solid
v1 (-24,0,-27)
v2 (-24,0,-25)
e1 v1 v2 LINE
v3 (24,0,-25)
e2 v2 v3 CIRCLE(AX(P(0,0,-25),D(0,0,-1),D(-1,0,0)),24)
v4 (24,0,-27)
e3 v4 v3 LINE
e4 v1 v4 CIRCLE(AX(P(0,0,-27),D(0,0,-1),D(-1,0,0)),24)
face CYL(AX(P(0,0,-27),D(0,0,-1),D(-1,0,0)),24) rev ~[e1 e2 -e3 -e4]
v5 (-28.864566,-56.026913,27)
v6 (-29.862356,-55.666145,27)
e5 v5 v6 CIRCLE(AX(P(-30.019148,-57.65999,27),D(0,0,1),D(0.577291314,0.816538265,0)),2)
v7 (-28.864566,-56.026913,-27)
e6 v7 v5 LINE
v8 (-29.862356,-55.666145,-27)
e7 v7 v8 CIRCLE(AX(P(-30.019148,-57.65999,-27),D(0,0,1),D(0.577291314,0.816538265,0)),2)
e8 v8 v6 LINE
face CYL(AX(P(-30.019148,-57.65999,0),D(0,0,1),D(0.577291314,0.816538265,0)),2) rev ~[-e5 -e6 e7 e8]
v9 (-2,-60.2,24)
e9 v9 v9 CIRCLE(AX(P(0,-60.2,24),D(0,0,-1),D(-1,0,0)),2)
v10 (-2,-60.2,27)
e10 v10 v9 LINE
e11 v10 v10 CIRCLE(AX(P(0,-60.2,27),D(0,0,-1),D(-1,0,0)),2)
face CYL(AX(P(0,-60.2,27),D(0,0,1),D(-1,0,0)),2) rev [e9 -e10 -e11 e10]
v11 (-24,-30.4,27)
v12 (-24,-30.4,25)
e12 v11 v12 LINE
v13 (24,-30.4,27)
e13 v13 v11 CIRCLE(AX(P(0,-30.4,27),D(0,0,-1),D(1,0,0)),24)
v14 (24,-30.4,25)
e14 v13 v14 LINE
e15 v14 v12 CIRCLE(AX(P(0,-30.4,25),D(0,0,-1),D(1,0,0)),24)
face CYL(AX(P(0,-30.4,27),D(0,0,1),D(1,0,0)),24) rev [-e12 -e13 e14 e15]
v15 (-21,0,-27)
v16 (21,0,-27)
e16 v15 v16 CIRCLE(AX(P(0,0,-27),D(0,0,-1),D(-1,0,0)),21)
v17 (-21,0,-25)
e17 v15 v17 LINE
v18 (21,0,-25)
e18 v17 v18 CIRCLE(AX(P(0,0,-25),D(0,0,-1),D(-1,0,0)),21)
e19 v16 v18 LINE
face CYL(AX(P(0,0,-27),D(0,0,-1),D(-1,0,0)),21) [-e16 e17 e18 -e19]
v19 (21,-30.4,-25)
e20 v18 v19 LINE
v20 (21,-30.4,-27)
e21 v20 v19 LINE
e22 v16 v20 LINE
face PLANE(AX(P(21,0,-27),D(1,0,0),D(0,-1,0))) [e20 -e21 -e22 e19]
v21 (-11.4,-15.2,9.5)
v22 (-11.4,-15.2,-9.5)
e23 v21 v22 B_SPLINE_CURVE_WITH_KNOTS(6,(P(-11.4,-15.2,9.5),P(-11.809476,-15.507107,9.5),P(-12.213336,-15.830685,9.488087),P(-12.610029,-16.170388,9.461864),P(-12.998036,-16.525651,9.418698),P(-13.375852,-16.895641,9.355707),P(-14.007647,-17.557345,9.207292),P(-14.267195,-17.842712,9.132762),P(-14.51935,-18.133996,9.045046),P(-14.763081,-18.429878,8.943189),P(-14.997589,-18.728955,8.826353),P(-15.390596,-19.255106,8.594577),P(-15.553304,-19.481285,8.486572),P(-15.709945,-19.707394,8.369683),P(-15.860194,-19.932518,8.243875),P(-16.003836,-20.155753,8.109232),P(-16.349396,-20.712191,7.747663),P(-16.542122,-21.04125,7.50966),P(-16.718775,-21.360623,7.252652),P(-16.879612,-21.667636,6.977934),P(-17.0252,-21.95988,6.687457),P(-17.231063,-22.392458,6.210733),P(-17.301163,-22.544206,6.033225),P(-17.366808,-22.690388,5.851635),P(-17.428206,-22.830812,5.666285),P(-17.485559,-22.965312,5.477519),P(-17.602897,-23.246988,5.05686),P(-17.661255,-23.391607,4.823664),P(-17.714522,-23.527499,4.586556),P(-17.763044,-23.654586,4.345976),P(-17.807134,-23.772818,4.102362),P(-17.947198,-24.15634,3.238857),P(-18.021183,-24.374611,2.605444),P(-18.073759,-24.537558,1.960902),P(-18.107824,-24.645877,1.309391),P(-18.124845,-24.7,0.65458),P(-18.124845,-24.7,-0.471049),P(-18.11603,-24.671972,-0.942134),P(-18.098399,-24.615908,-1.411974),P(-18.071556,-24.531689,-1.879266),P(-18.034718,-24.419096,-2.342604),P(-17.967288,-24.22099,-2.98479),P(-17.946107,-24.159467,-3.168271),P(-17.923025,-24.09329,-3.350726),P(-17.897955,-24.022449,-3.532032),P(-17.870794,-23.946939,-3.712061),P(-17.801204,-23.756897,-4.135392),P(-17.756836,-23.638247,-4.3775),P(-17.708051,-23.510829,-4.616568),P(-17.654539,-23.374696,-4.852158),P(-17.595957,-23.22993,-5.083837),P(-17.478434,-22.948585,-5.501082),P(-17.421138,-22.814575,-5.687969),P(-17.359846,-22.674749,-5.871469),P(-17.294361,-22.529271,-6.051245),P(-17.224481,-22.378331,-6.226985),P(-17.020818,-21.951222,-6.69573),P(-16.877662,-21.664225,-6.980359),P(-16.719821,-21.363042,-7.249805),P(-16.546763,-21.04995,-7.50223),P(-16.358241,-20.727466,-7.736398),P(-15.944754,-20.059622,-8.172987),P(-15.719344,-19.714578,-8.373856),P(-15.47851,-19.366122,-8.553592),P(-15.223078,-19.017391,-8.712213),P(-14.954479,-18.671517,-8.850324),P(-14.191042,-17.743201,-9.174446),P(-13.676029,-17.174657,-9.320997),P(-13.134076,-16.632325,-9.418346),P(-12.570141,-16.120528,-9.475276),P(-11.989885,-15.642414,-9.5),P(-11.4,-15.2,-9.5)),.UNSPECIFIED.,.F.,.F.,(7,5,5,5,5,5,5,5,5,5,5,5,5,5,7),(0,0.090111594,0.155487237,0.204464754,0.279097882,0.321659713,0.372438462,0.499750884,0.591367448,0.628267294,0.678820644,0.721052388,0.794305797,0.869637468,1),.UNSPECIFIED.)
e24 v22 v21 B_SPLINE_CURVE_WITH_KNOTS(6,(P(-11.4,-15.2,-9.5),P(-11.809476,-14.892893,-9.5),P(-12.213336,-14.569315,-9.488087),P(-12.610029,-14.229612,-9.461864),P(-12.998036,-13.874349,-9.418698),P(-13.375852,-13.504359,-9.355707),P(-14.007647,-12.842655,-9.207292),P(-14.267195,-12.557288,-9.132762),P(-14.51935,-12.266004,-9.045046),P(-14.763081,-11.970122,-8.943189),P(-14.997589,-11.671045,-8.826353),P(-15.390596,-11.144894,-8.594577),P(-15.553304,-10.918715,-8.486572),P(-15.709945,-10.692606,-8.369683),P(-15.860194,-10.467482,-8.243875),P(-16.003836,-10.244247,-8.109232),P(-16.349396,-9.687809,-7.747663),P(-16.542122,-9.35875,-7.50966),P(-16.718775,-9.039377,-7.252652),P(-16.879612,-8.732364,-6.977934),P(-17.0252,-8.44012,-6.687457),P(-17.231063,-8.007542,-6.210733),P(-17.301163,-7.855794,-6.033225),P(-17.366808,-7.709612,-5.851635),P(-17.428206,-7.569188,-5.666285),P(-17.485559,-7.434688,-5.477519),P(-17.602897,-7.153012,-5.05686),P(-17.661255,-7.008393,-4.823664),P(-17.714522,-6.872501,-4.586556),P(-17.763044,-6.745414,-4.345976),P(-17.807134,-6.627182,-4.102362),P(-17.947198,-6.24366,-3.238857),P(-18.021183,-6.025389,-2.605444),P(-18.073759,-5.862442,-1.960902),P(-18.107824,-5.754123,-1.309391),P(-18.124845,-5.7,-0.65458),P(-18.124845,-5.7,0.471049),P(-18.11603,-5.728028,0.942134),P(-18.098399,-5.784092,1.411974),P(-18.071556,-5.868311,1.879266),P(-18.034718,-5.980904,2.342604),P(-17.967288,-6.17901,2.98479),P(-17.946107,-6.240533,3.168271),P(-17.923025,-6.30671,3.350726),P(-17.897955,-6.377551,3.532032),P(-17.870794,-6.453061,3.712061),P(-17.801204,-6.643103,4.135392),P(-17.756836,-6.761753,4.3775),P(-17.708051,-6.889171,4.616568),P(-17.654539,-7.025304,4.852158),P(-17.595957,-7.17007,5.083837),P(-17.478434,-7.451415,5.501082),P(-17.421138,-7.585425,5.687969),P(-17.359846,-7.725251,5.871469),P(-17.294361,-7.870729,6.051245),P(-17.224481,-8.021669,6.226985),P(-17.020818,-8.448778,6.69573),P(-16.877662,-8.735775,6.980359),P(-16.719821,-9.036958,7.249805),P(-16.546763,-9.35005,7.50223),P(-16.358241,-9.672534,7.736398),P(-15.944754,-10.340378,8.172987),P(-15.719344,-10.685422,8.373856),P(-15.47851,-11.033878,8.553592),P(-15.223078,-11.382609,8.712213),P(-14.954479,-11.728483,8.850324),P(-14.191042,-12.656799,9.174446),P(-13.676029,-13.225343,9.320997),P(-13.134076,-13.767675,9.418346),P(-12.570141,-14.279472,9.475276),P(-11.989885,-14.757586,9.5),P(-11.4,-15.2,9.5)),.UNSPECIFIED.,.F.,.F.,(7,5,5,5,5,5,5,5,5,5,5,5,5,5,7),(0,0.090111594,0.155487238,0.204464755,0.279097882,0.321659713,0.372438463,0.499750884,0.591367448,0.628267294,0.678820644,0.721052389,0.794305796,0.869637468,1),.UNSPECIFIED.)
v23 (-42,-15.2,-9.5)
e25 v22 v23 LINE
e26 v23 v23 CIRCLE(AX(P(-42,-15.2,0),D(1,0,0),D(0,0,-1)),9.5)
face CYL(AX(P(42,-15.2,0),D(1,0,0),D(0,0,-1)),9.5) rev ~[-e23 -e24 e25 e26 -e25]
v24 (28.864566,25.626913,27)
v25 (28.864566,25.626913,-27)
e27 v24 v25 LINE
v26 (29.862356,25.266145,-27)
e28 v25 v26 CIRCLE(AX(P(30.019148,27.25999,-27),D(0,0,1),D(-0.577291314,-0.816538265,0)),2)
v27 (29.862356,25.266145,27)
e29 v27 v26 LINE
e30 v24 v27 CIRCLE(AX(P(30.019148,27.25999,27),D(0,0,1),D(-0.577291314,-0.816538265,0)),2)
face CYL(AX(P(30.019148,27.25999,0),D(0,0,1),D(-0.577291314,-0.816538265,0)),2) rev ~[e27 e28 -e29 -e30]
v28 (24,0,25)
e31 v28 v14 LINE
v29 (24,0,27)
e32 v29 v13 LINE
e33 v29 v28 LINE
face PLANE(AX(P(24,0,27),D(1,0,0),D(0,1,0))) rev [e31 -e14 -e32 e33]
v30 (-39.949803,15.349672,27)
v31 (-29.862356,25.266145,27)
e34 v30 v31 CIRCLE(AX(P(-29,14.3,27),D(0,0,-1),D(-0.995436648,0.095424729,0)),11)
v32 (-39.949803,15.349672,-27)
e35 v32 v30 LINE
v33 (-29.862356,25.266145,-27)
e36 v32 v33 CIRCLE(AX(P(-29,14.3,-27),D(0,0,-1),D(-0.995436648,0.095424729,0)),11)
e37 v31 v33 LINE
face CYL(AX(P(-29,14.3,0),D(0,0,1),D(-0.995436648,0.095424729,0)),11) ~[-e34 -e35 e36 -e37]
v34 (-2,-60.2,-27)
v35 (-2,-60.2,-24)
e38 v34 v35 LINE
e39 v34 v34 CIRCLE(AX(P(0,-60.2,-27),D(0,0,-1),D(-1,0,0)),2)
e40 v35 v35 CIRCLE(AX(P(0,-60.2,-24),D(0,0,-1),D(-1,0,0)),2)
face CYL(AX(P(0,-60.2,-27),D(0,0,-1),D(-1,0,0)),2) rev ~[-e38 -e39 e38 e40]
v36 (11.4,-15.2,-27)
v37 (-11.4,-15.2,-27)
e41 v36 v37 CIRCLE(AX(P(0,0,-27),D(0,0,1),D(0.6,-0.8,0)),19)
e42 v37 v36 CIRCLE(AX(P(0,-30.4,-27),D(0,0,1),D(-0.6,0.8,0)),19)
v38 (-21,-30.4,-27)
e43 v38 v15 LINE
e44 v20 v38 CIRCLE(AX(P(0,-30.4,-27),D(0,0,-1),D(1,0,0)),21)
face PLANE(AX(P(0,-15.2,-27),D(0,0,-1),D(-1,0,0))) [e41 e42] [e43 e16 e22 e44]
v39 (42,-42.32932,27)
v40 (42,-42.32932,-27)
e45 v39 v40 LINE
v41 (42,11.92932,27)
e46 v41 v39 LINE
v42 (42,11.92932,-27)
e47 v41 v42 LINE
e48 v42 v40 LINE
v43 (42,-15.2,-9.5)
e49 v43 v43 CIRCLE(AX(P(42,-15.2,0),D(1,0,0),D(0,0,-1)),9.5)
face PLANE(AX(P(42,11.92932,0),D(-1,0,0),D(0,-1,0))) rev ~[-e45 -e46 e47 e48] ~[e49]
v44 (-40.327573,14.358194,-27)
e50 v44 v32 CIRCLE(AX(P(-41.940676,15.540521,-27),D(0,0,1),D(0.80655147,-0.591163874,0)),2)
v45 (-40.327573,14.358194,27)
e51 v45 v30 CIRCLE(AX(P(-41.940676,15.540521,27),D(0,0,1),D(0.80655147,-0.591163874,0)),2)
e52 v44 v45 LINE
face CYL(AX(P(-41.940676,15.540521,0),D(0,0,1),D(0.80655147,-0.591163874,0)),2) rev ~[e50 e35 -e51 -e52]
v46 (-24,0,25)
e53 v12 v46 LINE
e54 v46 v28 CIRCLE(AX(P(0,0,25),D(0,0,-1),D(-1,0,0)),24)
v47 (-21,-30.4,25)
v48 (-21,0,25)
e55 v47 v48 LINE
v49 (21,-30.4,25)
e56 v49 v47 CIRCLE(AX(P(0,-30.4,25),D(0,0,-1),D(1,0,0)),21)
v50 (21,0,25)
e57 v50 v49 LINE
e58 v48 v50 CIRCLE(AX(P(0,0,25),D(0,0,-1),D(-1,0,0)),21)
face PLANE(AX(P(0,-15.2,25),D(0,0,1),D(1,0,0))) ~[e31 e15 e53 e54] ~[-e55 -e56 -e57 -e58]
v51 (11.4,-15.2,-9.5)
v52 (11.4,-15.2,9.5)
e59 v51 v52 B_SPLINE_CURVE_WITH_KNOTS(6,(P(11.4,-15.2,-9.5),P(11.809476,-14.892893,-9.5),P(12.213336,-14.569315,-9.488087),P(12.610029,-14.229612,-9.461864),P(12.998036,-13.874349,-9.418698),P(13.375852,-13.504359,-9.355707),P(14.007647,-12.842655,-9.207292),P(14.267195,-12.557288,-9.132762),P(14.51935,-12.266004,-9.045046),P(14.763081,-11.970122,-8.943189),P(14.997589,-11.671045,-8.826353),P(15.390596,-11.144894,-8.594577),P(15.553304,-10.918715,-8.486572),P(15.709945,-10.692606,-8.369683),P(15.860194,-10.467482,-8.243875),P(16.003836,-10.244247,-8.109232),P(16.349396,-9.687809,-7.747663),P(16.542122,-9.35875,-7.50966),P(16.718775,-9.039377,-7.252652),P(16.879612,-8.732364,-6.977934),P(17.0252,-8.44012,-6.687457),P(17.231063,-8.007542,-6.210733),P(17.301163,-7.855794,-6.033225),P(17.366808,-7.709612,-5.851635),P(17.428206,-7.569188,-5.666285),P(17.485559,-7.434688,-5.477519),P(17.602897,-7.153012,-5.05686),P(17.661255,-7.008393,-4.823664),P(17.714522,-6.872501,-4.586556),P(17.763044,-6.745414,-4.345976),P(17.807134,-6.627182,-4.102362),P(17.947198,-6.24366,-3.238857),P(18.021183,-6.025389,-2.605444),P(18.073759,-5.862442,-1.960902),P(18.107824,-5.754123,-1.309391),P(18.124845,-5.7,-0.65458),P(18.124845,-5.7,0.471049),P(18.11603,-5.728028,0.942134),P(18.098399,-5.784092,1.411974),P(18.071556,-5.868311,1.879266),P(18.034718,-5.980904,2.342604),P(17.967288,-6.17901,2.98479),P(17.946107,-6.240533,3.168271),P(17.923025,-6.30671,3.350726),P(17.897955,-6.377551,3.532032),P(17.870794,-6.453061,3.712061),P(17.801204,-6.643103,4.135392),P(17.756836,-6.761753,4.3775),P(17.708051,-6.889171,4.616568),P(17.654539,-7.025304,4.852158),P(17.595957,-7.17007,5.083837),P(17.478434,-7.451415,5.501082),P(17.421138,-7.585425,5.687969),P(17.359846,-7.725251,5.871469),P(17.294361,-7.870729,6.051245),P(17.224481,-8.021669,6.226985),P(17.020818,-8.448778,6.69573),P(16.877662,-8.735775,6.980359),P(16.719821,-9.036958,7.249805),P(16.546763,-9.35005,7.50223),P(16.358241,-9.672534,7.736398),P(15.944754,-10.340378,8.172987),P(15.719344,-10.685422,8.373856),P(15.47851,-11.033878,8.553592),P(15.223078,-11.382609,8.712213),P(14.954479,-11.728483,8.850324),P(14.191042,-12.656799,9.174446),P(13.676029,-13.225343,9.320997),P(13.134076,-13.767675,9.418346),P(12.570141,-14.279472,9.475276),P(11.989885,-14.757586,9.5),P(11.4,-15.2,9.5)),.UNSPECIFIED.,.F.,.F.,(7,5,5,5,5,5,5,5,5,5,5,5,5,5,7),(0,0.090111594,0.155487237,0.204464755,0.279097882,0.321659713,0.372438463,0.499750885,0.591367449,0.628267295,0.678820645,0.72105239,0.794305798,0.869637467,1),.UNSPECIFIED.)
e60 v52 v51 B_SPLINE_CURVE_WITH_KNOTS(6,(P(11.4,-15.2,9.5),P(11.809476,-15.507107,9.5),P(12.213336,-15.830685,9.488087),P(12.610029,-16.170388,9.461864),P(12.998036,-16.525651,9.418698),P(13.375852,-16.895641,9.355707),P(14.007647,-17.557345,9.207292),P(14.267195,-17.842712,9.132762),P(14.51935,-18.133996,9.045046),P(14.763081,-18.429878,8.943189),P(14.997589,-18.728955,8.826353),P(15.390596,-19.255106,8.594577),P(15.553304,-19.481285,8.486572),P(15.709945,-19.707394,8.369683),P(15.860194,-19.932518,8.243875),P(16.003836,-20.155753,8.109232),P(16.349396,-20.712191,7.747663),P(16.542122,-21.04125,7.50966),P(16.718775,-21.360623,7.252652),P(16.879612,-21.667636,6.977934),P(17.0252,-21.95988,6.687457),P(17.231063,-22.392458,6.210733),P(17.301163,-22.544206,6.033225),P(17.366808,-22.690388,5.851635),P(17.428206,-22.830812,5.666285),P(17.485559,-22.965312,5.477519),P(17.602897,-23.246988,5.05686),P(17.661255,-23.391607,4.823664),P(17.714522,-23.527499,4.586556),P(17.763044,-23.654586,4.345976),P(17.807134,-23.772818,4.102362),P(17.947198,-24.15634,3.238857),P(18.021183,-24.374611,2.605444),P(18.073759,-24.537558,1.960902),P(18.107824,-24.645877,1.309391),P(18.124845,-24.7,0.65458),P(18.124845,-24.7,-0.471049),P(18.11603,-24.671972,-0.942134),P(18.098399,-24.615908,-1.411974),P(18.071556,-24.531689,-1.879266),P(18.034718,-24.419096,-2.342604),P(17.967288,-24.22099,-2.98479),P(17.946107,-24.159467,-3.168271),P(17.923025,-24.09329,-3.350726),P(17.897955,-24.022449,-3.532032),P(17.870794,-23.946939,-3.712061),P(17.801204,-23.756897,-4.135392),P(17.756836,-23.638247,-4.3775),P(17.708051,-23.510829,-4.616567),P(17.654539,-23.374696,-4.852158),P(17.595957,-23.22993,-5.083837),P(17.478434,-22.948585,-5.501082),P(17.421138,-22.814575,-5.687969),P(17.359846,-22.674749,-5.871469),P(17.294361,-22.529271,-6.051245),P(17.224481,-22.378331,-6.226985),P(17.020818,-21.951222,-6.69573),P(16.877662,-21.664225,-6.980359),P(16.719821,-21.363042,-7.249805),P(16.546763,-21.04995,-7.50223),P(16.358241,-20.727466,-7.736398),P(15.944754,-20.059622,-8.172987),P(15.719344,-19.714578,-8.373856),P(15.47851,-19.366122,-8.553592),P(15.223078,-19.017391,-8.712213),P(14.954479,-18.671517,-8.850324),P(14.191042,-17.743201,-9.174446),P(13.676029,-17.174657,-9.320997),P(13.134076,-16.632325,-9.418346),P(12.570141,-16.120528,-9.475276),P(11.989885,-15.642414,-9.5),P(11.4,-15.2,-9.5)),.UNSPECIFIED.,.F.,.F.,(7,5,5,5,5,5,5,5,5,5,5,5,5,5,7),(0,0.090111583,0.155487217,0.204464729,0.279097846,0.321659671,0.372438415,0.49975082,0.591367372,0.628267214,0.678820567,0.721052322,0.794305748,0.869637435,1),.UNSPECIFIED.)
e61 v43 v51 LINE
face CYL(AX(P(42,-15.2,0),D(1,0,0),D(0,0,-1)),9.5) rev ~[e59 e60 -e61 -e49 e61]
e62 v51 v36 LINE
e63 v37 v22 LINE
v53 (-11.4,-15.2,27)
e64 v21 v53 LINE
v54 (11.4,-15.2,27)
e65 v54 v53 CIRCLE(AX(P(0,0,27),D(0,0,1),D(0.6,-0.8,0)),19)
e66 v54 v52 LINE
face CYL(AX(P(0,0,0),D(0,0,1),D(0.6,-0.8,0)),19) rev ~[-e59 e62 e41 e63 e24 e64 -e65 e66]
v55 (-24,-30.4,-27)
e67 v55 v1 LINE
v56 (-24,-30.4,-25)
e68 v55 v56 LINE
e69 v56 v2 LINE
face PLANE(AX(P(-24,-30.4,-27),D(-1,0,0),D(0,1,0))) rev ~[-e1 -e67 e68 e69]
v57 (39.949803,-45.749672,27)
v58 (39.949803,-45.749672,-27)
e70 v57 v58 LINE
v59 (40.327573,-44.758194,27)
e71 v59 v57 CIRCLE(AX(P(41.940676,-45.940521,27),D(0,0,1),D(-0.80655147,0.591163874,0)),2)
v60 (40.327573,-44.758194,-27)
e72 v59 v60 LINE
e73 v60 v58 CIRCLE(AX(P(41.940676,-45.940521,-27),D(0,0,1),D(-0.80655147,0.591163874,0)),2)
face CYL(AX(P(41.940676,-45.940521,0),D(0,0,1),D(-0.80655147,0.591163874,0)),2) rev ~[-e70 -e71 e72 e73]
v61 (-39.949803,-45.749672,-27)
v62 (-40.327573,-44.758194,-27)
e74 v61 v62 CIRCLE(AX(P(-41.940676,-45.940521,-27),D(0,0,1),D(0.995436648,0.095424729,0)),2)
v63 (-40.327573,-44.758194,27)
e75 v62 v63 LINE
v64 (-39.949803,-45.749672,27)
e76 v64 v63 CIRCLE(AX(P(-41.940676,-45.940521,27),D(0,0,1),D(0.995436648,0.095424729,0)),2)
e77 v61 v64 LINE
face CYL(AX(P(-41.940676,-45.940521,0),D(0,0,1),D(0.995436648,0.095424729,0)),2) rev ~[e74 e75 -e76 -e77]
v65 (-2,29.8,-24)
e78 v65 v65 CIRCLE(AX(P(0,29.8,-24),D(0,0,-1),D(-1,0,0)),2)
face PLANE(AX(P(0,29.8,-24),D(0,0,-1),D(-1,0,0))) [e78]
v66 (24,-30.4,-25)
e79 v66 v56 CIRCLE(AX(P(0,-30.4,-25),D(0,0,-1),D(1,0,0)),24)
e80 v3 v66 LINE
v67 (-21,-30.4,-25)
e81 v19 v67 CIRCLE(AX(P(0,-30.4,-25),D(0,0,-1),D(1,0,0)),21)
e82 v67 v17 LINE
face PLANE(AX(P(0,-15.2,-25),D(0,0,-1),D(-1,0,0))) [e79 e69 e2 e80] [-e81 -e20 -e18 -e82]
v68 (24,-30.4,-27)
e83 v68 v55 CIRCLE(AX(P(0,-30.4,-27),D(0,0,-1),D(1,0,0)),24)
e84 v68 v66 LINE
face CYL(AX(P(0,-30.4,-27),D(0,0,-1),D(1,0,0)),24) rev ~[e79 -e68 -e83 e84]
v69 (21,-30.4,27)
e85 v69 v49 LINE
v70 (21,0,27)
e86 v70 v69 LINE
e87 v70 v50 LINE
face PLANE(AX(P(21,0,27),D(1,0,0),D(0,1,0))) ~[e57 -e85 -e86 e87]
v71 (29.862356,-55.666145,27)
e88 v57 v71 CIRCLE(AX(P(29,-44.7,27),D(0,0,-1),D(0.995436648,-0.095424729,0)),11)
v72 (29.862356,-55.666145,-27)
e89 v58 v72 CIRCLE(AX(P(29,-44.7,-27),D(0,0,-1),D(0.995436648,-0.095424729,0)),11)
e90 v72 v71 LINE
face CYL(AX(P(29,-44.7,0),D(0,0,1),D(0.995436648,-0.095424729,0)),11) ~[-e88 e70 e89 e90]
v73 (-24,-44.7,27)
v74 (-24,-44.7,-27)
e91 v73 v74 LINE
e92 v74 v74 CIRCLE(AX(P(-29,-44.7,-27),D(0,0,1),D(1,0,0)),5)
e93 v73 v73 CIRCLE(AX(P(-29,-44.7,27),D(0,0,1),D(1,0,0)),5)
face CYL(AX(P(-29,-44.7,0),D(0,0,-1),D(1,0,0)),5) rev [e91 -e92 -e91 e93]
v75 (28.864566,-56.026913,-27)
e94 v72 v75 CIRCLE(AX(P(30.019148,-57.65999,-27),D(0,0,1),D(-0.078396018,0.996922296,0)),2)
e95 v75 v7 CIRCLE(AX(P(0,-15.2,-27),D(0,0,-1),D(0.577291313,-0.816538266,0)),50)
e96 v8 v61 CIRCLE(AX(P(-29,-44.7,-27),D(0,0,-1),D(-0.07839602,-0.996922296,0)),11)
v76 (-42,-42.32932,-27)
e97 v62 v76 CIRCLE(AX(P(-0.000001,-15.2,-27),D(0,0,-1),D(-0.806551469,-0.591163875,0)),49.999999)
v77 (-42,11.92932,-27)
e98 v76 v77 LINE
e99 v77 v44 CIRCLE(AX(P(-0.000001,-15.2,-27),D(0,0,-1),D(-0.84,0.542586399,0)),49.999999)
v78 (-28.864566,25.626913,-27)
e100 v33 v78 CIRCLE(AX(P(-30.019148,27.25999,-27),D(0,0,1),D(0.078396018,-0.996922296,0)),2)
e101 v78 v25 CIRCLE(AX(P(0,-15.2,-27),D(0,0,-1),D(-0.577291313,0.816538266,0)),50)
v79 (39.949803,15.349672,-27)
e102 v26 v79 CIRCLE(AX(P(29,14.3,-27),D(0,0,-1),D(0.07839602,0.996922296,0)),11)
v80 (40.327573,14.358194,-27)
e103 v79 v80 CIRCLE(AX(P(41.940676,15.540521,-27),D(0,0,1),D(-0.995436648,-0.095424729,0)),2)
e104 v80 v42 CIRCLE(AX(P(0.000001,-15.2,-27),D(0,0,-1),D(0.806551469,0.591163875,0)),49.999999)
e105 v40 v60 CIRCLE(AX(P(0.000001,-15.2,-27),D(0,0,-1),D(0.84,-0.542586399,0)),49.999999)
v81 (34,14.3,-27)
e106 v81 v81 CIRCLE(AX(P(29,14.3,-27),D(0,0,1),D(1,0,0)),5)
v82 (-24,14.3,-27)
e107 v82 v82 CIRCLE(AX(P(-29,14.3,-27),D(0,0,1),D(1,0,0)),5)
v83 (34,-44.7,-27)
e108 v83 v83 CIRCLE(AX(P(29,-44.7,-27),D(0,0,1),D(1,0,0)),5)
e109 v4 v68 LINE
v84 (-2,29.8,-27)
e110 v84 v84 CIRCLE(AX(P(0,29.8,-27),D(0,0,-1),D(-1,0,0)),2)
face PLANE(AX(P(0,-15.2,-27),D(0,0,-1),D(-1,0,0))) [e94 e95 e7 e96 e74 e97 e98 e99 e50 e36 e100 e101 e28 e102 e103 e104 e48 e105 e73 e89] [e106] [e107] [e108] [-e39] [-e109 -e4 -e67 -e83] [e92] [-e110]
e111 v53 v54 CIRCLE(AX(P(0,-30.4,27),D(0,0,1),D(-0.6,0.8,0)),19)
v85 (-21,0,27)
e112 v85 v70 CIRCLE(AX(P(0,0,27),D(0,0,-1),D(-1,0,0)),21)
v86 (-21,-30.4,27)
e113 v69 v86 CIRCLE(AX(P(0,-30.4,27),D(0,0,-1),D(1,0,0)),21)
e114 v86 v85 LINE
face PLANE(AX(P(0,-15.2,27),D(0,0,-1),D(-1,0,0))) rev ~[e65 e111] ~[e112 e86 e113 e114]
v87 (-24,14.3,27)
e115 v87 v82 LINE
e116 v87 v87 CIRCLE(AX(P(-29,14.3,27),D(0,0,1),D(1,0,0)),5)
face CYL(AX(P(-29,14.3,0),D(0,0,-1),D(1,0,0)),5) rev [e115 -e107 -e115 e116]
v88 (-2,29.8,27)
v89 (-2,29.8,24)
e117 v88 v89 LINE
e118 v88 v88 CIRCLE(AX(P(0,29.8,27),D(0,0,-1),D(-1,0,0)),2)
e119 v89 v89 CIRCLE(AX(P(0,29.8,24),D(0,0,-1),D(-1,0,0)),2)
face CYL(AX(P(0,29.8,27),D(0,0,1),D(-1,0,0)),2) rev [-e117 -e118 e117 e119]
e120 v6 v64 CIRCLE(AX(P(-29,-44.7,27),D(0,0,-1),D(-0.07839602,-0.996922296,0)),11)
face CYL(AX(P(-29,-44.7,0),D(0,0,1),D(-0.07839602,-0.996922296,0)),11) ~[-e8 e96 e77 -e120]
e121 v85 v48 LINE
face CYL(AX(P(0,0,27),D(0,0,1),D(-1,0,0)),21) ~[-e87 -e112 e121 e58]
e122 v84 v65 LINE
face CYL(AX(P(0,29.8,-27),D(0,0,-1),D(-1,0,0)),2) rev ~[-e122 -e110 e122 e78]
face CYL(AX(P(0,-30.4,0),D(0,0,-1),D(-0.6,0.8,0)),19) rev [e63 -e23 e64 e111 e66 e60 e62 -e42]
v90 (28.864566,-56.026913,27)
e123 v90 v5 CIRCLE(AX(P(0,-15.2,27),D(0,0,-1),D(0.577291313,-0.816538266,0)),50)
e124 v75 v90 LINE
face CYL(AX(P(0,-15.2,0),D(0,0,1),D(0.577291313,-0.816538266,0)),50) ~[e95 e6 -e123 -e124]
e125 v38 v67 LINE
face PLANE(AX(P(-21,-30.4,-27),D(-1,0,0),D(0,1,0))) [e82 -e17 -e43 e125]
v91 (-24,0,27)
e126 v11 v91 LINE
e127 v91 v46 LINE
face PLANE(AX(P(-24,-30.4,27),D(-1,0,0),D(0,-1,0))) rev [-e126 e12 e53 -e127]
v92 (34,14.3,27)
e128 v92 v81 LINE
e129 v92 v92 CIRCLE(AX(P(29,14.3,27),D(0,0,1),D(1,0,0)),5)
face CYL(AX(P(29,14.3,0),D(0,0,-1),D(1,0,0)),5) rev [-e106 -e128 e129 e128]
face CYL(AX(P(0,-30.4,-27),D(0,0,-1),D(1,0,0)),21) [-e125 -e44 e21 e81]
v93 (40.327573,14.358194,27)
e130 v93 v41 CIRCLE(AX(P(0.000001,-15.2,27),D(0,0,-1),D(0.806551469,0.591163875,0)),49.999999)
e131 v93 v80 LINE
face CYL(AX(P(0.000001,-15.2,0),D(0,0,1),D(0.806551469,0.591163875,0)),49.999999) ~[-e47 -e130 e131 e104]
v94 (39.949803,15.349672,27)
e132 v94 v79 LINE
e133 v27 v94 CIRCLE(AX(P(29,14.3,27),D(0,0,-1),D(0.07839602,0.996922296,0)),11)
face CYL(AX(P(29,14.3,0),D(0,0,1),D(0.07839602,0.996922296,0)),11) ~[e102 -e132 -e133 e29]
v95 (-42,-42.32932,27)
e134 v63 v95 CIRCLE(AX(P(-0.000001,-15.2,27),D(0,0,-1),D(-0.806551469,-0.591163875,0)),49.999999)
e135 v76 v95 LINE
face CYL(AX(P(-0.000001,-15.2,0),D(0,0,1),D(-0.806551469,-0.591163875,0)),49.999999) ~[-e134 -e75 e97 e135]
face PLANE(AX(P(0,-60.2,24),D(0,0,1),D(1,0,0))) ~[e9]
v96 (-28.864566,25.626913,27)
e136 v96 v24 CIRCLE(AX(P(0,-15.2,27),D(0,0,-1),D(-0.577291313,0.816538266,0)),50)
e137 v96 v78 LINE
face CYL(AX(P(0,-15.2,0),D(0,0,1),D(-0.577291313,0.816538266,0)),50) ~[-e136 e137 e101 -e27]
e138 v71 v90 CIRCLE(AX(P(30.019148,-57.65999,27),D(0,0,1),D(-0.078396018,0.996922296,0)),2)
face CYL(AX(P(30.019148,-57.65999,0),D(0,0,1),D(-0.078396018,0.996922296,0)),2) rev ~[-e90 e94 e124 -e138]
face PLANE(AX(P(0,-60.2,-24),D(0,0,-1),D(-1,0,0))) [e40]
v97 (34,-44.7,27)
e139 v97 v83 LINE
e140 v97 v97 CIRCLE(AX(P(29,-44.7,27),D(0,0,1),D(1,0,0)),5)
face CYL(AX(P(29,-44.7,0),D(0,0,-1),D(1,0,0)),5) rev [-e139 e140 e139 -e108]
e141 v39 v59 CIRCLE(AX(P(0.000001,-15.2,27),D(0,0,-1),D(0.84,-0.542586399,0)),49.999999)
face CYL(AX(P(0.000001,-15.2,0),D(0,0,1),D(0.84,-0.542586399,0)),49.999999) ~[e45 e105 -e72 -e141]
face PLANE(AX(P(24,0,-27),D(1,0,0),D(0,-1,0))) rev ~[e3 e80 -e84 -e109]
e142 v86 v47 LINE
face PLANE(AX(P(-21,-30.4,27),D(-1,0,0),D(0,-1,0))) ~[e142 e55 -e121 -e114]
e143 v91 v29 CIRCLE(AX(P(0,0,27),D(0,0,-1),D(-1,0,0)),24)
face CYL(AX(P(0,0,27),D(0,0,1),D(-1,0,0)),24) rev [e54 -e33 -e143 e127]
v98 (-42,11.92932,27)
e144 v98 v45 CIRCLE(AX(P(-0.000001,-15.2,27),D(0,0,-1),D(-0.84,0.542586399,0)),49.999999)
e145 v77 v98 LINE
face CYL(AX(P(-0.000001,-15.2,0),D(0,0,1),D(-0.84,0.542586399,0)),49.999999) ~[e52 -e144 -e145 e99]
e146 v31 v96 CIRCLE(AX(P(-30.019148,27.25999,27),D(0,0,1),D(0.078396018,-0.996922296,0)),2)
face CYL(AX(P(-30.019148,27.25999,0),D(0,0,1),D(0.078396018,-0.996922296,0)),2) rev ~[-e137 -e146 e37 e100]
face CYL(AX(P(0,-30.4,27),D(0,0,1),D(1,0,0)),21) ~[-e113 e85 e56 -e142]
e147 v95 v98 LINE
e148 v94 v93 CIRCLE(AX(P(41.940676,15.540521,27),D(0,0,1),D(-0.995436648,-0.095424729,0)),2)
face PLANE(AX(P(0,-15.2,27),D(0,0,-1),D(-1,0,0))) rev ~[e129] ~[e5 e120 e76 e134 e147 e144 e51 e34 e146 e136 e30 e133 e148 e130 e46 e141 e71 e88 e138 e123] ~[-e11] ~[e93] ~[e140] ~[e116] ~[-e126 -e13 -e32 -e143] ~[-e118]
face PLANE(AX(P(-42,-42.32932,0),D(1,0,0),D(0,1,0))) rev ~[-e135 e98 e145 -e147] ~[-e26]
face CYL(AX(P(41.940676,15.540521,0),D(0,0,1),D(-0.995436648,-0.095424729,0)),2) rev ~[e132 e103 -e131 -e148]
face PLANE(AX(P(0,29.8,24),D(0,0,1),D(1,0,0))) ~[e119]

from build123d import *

# Parameters (mm, degrees)
SKETCH2_R           = 5
BOSS_EXTRUDE1_DEPTH = 27
SKETCH3_R           = 9.5
CUT_EXTRUDE2_DEPTH  = 85
CUT_EXTRUDE3_DEPTH  = 2
SKETCH6_R           = 2
CUT_EXTRUDE4_DEPTH  = 3


with BuildPart() as part:
    # Sketch2 → Boss-Extrude1 (new body, symmetric)
    with BuildSketch(Plane.XY):
        with BuildLine():
            ThreePointArc((-39.949803133, 15.349672018), (-36.711412809, 22.144368202), (-29.86235622, 25.266145255))
            ThreePointArc((-29.86235622, 25.266145255), (-29.339100999, 25.379156062), (-28.864565634, 25.626913314))
            ThreePointArc((-28.864565634, 25.626913314), (0, 34.8), (28.864565634, 25.626913314))
            ThreePointArc((28.864565634, 25.626913314), (29.339100999, 25.379156062), (29.86235622, 25.266145255))
            ThreePointArc((29.86235622, 25.266145255), (36.711412809, 22.144368202), (39.949803133, 15.349672018))
            ThreePointArc((39.949803133, 15.349672018), (40.071741311, 14.828424908), (40.32757349, 14.358193726))
            ThreePointArc((40.32757349, 14.358193726), (41.181697345, 13.15608936), (42, 11.929319933))
            Line((42, 11.929319933), (42, -42.329319933))
            ThreePointArc((42, -42.329319933), (41.181697345, -43.55608936), (40.32757349, -44.758193726))
            ThreePointArc((40.32757349, -44.758193726), (40.071741311, -45.228424908), (39.949803133, -45.749672018))
            ThreePointArc((39.949803133, -45.749672018), (36.711412809, -52.544368202), (29.86235622, -55.666145255))
            ThreePointArc((29.86235622, -55.666145255), (29.339100999, -55.779156062), (28.864565634, -56.026913314))
            ThreePointArc((28.864565634, -56.026913314), (0, -65.2), (-28.864565634, -56.026913314))
            ThreePointArc((-28.864565634, -56.026913314), (-29.339100999, -55.779156062), (-29.86235622, -55.666145255))
            ThreePointArc((-29.86235622, -55.666145255), (-36.711412809, -52.544368202), (-39.949803133, -45.749672018))
            ThreePointArc((-39.949803133, -45.749672018), (-40.071741311, -45.228424908), (-40.32757349, -44.758193726))
            ThreePointArc((-40.32757349, -44.758193726), (-41.181697345, -43.55608936), (-42, -42.329319933))
            Line((-42, -42.329319933), (-42, 11.929319933))
            ThreePointArc((-42, 11.929319933), (-41.181697345, 13.15608936), (-40.32757349, 14.358193726))
            ThreePointArc((-40.32757349, 14.358193726), (-40.071741311, 14.828424908), (-39.949803133, 15.349672018))
        make_face()
        with Locations((-29, -44.7)):
            Circle(SKETCH2_R, mode=Mode.SUBTRACT)
        with Locations((-29, 14.3)):
            Circle(SKETCH2_R, mode=Mode.SUBTRACT)
        with Locations((29, -44.7)):
            Circle(SKETCH2_R, mode=Mode.SUBTRACT)
        with Locations((29, 14.3)):
            Circle(SKETCH2_R, mode=Mode.SUBTRACT)
        with BuildLine():
            ThreePointArc((-11.4, -15.2), (0, -49.4), (11.4, -15.2))
            ThreePointArc((11.4, -15.2), (0, 19), (-11.4, -15.2))
        make_face(mode=Mode.SUBTRACT)
    extrude(amount=BOSS_EXTRUDE1_DEPTH, both=True)

    # Sketch3 → Cut-Extrude2 (cut, through all)
    with BuildSketch(Plane(origin=(42, 0, 0), x_dir=(0, 0, -1), z_dir=(1, 0, 0))):
        with Locations((0, -15.2)):
            Circle(SKETCH3_R)
    extrude(amount=-CUT_EXTRUDE2_DEPTH, mode=Mode.SUBTRACT)

    # Sketch5 → Cut-Extrude3 (cut)
    with BuildSketch(Plane(origin=(0, 0, -27), x_dir=(-1, 0, 0), z_dir=(0, 0, -1))):
        with BuildLine():
            Line((-24, 0), (-24, -30.4))
            ThreePointArc((-24, -30.4), (0, -54.4), (24, -30.4))
            Line((24, -30.4), (24, 0))
            ThreePointArc((24, 0), (0, 24), (-24, 0))
        make_face()
        with BuildLine():
            Line((-21, 0), (-21, -30.4))
            ThreePointArc((-21, -30.4), (0, -51.4), (21, -30.4))
            Line((21, -30.4), (21, 0))
            ThreePointArc((21, 0), (0, 21), (-21, 0))
        make_face(mode=Mode.SUBTRACT)
    cut_extrude3 = extrude(amount=-CUT_EXTRUDE3_DEPTH, mode=Mode.SUBTRACT)

    # Sketch6 → Cut-Extrude4 (cut)
    with BuildSketch(Plane(origin=(0, 0, -27), x_dir=(-1, 0, 0), z_dir=(0, 0, -1))):
        with Locations((0, 29.8)):
            Circle(SKETCH6_R)
        with Locations((0, -60.2)):
            Circle(SKETCH6_R)
    cut_extrude4 = extrude(amount=-CUT_EXTRUDE4_DEPTH, mode=Mode.SUBTRACT)

    # Mirror1: Cut-Extrude3, Cut-Extrude4 across plane
    add(cut_extrude3.mirror(Plane.XY), mode=Mode.SUBTRACT)
    add(cut_extrude4.mirror(Plane.XY), mode=Mode.SUBTRACT)


solid = part.part
